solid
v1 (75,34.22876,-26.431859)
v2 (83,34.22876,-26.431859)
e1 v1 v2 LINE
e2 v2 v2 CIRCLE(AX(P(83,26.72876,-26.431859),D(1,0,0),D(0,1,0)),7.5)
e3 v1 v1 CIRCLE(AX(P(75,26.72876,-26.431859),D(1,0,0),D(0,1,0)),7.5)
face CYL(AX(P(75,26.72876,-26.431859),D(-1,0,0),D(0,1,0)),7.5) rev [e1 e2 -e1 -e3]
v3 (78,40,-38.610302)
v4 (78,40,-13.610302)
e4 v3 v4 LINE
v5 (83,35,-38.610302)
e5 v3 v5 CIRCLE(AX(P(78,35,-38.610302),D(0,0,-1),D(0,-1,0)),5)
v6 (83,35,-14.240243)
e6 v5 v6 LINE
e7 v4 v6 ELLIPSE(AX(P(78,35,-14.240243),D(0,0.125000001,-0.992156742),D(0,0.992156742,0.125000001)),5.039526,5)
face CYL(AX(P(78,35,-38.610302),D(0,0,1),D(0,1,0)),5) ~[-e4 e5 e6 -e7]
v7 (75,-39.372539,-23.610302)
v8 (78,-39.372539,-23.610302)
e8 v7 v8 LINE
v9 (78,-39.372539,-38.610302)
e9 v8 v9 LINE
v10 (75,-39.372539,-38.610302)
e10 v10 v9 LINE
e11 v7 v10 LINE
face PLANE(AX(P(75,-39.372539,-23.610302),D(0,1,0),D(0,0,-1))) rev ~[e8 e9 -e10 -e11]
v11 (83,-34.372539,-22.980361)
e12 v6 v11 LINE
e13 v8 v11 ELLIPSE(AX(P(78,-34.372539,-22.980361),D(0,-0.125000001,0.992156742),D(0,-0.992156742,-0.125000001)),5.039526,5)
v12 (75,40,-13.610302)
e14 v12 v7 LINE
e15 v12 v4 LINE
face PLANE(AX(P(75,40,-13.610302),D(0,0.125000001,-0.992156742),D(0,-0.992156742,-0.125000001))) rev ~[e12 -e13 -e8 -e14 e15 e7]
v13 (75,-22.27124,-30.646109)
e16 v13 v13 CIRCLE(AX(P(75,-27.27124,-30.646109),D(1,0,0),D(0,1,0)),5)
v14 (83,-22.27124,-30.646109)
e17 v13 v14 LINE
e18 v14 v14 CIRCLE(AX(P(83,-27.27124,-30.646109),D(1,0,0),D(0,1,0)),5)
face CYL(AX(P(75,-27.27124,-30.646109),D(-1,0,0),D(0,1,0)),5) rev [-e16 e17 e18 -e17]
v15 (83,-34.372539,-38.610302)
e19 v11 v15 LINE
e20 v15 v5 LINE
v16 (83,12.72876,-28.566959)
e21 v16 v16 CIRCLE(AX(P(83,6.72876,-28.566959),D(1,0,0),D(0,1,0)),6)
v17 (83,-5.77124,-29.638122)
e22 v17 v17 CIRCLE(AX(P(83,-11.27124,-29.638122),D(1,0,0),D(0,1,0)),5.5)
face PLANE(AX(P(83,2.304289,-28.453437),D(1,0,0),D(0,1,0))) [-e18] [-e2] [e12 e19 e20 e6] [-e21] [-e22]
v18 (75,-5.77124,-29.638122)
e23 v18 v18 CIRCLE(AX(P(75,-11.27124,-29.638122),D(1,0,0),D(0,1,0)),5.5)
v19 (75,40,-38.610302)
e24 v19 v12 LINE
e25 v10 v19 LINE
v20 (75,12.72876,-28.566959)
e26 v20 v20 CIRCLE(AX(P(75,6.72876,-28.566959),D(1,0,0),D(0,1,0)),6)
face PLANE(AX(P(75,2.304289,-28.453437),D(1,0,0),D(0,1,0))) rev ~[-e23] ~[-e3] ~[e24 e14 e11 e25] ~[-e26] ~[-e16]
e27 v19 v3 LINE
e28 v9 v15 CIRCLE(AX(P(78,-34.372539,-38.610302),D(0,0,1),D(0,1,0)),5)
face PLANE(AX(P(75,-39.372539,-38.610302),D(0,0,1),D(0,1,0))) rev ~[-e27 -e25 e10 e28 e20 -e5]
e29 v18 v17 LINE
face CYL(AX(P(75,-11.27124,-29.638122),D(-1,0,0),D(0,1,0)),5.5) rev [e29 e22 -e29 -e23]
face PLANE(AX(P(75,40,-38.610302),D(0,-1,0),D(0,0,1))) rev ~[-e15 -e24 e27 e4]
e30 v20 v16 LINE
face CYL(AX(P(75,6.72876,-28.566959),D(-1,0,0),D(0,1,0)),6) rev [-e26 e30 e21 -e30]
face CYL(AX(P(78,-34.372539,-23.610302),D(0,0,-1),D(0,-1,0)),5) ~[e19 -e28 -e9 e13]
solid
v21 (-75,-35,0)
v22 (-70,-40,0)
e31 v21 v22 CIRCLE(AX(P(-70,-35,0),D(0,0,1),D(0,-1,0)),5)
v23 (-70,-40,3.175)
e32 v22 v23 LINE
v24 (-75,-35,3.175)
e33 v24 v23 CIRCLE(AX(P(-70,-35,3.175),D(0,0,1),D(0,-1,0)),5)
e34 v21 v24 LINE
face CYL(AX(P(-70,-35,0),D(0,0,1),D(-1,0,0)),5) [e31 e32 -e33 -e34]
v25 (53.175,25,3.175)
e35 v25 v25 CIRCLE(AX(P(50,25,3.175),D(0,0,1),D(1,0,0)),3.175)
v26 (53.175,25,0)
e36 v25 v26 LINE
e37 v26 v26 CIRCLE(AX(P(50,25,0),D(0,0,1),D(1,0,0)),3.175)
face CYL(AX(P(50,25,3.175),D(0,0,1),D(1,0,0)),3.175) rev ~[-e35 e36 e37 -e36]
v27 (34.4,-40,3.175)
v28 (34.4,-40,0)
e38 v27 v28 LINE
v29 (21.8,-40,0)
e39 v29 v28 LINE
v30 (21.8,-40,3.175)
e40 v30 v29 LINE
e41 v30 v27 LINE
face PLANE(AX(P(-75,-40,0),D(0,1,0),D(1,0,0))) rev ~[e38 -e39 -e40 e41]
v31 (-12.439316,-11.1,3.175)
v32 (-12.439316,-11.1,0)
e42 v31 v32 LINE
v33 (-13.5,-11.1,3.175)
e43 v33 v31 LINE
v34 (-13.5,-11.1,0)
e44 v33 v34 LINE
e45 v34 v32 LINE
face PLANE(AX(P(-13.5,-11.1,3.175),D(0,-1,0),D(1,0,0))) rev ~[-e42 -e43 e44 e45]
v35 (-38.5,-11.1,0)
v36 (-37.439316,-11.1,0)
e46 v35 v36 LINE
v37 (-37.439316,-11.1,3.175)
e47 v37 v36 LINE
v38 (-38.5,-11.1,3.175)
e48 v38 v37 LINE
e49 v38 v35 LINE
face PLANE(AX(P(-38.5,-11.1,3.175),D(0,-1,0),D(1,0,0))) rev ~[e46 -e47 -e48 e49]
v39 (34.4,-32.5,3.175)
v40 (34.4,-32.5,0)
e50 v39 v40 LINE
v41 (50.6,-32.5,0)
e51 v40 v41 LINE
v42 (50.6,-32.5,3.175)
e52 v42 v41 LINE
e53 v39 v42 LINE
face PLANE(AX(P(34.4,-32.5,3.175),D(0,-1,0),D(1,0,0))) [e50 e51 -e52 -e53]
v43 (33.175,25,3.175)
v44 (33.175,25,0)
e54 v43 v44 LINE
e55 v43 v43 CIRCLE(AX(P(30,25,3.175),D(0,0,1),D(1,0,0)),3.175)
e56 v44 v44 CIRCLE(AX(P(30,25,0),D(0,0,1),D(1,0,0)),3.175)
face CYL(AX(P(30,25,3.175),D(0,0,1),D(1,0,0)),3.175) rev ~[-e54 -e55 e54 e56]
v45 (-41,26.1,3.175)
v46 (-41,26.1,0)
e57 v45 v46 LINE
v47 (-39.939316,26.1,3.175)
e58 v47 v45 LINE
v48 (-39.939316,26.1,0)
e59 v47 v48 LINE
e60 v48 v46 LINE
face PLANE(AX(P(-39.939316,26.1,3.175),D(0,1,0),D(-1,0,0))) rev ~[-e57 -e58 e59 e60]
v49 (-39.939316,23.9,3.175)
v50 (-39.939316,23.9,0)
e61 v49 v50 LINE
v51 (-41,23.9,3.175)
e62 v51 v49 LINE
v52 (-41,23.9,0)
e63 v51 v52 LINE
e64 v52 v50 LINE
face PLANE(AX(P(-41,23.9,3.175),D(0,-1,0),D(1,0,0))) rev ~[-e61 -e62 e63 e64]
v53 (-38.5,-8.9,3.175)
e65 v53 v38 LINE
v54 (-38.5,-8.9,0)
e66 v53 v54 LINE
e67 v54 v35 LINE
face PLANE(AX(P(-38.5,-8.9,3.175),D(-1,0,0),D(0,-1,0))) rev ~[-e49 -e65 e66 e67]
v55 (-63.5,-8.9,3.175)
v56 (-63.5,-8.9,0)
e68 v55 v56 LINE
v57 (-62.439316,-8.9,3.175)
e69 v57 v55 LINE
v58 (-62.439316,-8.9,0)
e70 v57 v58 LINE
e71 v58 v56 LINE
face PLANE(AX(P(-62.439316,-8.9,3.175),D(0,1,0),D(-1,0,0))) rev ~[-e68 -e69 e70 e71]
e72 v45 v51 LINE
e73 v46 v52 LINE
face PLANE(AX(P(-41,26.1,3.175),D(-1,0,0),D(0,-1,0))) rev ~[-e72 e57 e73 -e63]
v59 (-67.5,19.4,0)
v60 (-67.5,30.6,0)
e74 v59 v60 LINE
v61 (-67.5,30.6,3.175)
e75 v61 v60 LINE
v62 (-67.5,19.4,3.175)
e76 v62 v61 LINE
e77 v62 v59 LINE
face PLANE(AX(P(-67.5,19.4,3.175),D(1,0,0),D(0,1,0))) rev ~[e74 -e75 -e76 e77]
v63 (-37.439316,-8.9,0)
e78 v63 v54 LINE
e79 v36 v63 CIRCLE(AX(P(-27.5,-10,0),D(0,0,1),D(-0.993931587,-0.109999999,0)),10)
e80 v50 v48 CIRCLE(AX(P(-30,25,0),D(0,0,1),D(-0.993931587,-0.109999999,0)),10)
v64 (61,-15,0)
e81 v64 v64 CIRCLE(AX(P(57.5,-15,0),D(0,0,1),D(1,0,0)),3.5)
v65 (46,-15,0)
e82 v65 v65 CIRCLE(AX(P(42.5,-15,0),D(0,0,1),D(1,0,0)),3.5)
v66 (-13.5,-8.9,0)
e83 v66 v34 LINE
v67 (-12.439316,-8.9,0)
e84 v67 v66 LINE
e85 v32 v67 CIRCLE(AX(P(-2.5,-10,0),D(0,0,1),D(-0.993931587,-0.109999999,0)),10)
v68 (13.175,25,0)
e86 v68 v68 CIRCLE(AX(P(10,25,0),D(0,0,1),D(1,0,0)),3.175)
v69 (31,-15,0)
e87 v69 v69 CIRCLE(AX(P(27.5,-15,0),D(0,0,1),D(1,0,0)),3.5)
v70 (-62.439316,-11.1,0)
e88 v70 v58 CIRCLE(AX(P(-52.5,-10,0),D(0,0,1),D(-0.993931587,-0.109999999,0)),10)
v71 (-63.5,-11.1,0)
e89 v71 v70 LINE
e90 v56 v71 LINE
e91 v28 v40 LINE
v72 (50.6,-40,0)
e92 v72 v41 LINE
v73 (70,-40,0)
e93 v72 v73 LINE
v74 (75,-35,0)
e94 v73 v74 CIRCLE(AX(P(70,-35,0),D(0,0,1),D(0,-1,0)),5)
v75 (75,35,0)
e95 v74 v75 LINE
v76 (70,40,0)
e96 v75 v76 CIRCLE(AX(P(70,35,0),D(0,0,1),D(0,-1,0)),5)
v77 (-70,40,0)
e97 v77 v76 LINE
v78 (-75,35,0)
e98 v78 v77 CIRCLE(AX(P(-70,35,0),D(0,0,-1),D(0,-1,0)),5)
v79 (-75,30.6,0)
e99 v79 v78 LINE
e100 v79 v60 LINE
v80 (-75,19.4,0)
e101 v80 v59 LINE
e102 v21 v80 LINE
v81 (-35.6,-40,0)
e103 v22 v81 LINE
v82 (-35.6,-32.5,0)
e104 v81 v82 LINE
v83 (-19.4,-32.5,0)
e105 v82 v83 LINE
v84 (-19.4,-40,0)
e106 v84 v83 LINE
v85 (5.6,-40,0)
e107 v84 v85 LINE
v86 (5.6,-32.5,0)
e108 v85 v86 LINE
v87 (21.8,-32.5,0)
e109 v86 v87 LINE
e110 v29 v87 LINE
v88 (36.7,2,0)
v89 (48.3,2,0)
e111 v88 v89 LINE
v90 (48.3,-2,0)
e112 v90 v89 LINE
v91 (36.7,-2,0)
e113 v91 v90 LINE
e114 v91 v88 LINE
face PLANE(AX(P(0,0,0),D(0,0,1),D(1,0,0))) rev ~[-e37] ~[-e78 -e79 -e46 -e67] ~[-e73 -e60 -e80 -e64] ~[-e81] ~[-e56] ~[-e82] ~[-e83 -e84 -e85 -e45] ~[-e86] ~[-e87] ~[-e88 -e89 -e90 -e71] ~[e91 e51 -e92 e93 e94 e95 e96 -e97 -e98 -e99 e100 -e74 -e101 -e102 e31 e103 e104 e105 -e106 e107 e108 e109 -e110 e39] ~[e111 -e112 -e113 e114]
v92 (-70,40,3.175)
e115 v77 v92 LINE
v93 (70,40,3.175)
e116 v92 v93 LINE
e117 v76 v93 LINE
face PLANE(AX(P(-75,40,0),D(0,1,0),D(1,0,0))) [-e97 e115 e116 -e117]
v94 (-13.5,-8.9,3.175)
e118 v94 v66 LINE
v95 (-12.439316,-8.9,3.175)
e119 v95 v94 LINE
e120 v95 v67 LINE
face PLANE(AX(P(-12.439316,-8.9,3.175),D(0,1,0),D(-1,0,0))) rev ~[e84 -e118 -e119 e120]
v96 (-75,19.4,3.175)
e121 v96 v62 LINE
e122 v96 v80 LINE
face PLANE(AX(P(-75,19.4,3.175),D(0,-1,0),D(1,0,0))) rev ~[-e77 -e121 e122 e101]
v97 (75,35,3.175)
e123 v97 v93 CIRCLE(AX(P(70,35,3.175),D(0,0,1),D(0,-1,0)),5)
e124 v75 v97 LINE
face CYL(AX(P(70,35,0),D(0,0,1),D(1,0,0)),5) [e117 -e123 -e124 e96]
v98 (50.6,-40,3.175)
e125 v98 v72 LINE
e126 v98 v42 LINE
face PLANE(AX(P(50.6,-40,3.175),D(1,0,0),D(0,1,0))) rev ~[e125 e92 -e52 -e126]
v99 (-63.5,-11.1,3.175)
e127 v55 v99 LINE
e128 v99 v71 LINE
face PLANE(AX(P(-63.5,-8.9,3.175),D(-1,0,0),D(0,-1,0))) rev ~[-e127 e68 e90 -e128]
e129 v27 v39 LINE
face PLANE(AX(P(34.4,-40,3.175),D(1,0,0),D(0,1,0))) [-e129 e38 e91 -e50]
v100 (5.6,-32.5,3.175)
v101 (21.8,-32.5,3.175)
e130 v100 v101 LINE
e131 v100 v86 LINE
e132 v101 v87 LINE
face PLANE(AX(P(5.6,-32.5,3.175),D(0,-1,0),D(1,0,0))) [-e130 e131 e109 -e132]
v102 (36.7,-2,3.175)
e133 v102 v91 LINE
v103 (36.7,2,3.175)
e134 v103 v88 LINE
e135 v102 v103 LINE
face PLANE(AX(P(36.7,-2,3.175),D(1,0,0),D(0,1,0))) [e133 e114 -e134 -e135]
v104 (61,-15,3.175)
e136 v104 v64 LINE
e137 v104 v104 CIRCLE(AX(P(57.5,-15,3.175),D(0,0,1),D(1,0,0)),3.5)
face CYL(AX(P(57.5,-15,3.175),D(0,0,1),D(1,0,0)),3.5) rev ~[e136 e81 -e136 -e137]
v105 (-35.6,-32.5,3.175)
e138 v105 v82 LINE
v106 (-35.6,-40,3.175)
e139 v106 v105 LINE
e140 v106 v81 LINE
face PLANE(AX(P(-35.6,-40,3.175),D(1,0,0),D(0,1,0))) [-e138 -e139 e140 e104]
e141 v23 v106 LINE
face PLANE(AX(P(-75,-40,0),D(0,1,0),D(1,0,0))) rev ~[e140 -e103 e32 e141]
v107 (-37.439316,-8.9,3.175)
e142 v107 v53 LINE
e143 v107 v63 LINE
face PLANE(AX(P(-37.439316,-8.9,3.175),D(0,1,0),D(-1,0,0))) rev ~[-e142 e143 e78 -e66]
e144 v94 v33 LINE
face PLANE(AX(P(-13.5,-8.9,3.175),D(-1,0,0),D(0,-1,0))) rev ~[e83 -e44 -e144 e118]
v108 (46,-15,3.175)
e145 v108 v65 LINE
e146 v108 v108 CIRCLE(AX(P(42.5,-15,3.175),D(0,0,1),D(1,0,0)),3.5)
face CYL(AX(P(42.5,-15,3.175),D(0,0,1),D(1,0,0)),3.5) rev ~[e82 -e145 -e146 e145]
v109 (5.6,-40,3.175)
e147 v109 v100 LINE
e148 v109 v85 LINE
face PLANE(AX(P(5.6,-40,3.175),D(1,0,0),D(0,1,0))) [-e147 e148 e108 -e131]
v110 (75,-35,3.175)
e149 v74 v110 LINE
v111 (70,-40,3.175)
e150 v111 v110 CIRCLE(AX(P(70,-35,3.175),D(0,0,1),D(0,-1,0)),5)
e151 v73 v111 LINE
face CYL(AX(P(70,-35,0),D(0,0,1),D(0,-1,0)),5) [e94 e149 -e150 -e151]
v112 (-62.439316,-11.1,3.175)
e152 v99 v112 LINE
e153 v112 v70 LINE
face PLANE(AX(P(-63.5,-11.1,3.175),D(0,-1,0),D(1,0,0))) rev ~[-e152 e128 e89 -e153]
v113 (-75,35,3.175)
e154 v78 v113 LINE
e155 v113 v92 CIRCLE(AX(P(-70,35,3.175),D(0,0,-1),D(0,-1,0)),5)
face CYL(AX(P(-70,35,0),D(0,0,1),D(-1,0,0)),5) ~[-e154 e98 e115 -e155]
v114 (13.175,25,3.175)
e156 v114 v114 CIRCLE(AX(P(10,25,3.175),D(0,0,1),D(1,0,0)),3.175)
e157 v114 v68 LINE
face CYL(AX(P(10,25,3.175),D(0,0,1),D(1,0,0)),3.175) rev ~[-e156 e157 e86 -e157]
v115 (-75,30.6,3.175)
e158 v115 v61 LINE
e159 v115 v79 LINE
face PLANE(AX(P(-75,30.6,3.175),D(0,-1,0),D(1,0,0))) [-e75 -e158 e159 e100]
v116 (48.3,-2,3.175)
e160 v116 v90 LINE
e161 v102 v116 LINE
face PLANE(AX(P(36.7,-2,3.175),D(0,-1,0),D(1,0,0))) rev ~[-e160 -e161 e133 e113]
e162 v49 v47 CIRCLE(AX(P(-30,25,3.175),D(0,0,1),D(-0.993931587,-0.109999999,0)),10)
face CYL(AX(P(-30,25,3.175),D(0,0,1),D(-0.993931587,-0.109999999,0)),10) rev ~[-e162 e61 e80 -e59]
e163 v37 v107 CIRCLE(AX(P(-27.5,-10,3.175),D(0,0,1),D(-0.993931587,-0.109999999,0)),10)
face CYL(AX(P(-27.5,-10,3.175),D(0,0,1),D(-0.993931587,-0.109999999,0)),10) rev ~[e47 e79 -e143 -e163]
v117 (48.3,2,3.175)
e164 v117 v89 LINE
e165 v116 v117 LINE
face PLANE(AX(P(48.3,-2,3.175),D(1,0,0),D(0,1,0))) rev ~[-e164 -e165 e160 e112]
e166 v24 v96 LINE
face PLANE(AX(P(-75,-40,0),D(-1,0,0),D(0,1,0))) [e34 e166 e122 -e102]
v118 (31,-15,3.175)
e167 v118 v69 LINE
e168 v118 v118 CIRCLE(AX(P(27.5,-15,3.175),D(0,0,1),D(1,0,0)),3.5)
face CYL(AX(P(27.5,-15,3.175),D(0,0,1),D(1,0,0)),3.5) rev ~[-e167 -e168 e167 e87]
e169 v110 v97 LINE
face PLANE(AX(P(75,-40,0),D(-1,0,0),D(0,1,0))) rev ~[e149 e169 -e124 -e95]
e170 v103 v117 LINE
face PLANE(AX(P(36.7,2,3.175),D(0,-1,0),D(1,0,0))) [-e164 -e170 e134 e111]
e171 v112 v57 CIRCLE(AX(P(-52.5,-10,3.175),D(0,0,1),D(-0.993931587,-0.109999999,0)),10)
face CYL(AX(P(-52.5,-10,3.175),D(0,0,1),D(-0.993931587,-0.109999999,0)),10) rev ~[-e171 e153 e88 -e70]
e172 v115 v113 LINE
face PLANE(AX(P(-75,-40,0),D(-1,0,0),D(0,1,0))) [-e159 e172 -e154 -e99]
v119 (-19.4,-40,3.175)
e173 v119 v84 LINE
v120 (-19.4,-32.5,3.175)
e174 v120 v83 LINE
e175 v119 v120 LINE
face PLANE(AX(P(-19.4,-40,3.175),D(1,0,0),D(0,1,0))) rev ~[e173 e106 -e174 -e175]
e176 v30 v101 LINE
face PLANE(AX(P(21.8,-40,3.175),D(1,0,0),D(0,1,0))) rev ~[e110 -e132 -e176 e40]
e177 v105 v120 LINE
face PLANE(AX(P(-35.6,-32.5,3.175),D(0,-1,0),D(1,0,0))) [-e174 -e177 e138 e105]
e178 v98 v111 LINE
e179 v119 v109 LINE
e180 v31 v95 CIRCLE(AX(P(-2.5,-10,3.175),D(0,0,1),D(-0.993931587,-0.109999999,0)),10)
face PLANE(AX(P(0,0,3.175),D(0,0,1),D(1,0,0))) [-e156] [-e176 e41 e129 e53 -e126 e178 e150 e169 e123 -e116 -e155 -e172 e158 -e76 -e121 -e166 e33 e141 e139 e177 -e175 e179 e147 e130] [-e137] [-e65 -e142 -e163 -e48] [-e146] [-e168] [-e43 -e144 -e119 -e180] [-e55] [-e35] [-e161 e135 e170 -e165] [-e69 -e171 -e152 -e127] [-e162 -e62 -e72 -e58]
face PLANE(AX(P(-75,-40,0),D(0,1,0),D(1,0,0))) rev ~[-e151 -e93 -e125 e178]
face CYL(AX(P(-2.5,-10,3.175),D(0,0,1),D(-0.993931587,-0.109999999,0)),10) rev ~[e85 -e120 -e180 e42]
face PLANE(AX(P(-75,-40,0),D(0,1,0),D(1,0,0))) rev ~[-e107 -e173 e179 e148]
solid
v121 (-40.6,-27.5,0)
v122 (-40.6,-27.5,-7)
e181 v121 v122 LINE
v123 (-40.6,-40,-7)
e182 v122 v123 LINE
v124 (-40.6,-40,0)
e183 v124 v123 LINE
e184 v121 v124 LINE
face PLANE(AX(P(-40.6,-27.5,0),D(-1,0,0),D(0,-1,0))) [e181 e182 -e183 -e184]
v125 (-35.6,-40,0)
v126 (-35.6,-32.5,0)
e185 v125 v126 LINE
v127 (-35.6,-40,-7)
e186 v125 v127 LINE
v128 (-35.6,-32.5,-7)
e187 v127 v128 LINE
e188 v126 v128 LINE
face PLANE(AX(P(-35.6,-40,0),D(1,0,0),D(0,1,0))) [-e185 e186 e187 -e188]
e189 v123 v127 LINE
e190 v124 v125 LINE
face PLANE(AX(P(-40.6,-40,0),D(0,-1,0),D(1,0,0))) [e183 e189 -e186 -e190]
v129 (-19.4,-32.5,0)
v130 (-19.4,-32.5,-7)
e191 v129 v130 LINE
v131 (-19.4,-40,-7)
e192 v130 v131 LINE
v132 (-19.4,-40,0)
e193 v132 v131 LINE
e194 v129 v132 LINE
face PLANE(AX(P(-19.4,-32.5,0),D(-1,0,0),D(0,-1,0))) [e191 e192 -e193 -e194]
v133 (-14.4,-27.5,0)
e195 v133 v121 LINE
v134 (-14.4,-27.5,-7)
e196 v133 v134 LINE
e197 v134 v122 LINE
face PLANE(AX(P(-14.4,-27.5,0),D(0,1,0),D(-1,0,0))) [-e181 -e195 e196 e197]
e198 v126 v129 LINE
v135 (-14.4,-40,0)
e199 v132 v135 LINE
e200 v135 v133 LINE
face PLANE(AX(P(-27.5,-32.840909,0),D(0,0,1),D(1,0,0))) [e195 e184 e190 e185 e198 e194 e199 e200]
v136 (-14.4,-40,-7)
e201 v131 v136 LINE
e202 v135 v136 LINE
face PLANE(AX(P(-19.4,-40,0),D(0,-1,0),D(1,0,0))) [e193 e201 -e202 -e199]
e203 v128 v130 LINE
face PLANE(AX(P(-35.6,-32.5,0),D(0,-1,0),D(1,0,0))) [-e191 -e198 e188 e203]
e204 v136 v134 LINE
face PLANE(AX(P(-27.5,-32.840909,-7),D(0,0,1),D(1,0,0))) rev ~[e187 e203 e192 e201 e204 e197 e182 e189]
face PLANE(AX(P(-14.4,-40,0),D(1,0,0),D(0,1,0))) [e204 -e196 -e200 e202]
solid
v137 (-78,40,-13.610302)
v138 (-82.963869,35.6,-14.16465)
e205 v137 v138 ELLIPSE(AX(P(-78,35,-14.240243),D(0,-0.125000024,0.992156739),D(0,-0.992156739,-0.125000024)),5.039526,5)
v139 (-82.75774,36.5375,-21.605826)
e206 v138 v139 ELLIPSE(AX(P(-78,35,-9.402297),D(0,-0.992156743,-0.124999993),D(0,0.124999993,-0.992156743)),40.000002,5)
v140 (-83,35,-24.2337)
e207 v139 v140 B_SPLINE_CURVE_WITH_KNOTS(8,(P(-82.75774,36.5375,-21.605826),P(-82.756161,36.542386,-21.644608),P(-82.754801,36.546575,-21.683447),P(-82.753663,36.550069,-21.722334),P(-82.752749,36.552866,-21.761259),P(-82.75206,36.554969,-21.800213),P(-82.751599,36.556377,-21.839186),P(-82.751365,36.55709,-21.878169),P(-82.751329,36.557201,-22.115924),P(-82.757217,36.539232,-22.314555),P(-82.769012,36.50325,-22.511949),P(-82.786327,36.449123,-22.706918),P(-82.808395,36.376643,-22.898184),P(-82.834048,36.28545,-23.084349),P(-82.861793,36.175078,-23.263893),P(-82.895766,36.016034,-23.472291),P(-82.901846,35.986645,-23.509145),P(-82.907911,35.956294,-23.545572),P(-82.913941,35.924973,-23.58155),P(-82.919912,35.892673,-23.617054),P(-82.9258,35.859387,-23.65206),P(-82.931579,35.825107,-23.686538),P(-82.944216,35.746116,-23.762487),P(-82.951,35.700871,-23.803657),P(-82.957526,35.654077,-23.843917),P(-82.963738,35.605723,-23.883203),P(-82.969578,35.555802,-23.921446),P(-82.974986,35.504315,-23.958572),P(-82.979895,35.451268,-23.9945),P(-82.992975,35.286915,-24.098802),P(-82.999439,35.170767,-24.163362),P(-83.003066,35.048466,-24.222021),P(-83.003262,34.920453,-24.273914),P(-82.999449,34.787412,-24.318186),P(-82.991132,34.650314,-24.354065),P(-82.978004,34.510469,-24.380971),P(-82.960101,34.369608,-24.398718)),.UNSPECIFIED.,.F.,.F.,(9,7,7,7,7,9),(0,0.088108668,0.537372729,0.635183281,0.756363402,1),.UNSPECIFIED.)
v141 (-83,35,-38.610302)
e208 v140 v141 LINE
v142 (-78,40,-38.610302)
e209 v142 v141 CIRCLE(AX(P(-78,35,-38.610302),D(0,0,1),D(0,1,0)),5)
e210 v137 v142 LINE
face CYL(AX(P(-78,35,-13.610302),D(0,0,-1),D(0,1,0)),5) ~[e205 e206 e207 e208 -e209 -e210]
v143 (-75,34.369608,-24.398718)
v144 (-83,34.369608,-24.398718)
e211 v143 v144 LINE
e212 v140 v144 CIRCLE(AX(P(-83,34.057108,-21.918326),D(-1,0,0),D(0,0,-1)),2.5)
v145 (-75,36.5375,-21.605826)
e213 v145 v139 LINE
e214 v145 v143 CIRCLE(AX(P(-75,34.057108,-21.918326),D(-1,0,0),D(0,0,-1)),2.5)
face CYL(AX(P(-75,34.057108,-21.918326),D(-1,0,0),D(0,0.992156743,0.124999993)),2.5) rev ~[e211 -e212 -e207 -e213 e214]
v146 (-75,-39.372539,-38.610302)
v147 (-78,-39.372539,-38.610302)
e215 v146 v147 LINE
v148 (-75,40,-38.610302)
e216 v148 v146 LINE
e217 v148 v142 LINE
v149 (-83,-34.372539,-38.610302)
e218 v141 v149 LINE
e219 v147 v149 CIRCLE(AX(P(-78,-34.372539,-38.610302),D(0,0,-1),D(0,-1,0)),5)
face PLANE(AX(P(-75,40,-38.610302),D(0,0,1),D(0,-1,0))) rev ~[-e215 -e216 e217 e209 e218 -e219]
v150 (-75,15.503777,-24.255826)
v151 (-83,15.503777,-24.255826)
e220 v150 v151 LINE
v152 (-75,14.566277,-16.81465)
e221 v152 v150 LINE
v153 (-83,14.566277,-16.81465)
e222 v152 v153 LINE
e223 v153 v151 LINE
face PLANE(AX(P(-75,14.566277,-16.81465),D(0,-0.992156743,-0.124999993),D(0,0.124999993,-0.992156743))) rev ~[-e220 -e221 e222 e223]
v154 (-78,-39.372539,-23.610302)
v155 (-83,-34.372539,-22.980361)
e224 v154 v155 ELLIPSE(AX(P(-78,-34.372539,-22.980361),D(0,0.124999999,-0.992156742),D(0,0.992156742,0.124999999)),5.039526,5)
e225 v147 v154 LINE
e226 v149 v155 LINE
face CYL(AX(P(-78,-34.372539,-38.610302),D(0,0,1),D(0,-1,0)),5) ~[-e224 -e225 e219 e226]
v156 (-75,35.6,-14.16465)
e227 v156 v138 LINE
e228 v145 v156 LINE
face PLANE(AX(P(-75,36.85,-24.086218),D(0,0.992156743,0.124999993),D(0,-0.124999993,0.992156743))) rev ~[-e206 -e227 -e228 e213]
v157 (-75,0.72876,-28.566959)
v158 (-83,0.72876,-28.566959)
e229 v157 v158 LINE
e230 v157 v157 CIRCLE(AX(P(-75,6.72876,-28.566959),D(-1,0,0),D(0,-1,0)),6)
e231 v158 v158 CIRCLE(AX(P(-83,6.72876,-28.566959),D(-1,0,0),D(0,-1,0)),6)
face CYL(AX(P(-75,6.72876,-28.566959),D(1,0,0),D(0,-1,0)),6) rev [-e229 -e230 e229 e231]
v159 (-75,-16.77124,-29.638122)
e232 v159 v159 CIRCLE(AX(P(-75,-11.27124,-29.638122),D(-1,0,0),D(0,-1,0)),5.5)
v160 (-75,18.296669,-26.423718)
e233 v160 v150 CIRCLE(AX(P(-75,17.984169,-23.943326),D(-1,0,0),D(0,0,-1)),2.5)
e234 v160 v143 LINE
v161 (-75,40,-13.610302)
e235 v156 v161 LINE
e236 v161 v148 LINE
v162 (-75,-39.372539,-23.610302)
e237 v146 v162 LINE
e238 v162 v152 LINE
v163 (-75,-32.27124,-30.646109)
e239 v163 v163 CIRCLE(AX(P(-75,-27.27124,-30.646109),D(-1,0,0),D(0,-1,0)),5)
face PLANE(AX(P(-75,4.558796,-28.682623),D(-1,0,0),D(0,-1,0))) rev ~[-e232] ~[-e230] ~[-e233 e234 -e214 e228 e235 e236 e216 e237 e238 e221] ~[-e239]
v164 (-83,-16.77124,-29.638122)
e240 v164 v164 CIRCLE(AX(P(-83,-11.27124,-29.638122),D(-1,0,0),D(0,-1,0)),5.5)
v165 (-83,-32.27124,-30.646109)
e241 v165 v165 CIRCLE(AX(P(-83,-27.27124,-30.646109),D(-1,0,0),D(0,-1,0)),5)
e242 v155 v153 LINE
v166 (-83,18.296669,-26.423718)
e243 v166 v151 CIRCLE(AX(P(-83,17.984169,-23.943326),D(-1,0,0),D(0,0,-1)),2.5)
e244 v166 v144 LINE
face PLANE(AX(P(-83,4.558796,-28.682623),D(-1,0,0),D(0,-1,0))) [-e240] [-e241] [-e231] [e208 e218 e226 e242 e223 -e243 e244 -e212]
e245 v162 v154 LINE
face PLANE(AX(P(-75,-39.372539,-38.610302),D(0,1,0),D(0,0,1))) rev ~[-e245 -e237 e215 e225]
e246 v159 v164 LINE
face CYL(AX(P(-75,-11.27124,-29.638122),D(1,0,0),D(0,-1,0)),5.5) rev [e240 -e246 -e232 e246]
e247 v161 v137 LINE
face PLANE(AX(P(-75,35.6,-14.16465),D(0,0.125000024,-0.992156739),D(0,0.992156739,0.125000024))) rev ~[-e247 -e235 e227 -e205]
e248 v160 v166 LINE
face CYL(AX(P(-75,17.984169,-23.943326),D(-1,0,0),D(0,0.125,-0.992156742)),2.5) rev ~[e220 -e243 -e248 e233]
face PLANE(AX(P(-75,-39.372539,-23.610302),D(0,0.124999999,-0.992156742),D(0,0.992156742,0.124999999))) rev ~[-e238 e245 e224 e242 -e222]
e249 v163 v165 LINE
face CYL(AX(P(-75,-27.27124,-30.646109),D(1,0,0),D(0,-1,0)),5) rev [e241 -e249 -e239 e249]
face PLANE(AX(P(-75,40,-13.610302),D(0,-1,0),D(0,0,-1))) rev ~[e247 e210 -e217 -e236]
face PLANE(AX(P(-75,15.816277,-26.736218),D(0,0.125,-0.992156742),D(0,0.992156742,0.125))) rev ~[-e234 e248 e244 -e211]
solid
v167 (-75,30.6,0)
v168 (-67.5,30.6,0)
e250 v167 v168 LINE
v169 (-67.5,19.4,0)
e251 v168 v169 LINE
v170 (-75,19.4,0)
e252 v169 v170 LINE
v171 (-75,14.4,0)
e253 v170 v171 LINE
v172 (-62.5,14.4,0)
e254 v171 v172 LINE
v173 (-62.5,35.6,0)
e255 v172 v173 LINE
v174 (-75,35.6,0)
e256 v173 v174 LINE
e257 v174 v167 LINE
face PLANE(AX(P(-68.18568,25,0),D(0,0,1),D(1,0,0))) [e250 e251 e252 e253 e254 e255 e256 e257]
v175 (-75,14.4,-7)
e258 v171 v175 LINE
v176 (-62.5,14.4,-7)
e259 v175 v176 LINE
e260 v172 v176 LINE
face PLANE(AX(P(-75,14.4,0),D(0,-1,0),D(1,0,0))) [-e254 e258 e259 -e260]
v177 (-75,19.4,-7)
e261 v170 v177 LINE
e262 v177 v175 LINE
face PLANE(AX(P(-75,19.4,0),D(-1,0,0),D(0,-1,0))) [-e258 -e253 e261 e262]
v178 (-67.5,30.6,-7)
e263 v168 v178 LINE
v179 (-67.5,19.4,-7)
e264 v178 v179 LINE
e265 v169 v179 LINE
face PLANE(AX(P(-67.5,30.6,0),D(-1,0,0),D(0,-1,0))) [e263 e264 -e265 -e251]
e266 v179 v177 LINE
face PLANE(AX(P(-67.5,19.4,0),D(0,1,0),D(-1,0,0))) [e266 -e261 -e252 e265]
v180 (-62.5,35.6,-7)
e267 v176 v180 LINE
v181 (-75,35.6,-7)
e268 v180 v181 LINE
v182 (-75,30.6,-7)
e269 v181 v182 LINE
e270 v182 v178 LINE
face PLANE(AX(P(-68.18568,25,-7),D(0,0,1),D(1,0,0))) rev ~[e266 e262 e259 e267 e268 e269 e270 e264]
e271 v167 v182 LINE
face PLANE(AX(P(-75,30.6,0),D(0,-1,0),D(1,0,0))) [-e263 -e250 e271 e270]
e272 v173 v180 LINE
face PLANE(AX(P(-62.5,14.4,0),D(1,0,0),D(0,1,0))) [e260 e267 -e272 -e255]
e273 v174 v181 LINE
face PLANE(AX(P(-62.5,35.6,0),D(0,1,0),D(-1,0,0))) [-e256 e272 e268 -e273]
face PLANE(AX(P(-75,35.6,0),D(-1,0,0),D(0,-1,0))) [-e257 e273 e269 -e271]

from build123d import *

# Parameters (mm, degrees)
F0_W      = 150
F0_H      = 80
F1_DEPTH  = 3.175
F2_R      = 5
F3_R      = 3.5
F3_R_2    = 3.175
F3_W      = 11.6
F3_H      = 4
F4_DEPTH  = 3.176
F5_W      = 7.5
F5_H      = 11.2
F5_W_2    = 16.2
F5_H_2    = 7.5
F6_DEPTH  = 3.176
F8_DEPTH  = 7
F10_DEPTH = 7
F11_R     = 5
F11_R_2   = 5.5
F11_R_3   = 6
F11_R_4   = 7.5
F12_DEPTH = 8
F13_R     = 6
F13_R_2   = 5.5
F13_R_3   = 5
F14_DEPTH = 8
F15_R     = 5
F15_2_R   = 5
F16_R     = 2.5


with BuildPart() as f1:
    # F0 (on Top) → F1 (new body)
    with BuildSketch(Plane.XY):
        Rectangle(F0_W, F0_H)
    extrude(amount=F1_DEPTH)

    # F2
    f2_edges = [f1.edges().sort_by_distance(p)[0] for p in [
        (-75, 40, 1.5875),
        (-75, -40, 1.5875),
        (75, -40, 1.5875),
        (75, 40, 1.5875),
    ]]
    fillet(f2_edges, radius=F2_R)

    # F3 (on face) → F4 (cut, through all)
    with BuildSketch(Plane.XY.offset(3.175)):
        with BuildLine():
            Line((-41, 23.9), (-39.939316, 23.9))
            ThreePointArc((-39.939316, 23.9), (-20, 25), (-39.939316, 26.1))
            Line((-39.939316, 26.1), (-41, 26.1))
            Line((-41, 26.1), (-41, 23.9))
        make_face()
        with BuildLine():
            Line((-63.5, -11.1), (-62.439316, -11.1))
            ThreePointArc((-62.439316, -11.1), (-42.5, -10), (-62.439316, -8.9))
            Line((-62.439316, -8.9), (-63.5, -8.9))
            Line((-63.5, -8.9), (-63.5, -11.1))
        make_face()
        with BuildLine():
            Line((-38.5, -11.1), (-37.439316, -11.1))
            ThreePointArc((-37.439316, -11.1), (-17.5, -10), (-37.439316, -8.9))
            Line((-37.439316, -8.9), (-38.5, -8.9))
            Line((-38.5, -8.9), (-38.5, -11.1))
        make_face()
        with BuildLine():
            Line((-13.5, -11.1), (-12.439316, -11.1))
            ThreePointArc((-12.439316, -11.1), (7.5, -10), (-12.439316, -8.9))
            Line((-12.439316, -8.9), (-13.5, -8.9))
            Line((-13.5, -8.9), (-13.5, -11.1))
        make_face()
        with Locations((27.5, -15)):
            Circle(F3_R)
        with Locations((42.5, -15)):
            Circle(F3_R)
        with Locations((57.5, -15)):
            Circle(F3_R)
        with Locations((10, 25)):
            Circle(F3_R_2)
        with Locations((30, 25)):
            Circle(F3_R_2)
        with Locations((50, 25)):
            Circle(F3_R_2)
        with Locations((42.5, 0)):
            Rectangle(F3_W, F3_H)
    extrude(amount=-F4_DEPTH, mode=Mode.SUBTRACT)

    # F5 (on face) → F6 (cut, through all)
    with BuildSketch(Plane.XY.offset(3.175)):
        with Locations((-71.25, 25)):
            Rectangle(F5_W, F5_H)
        with Locations((-27.5, -36.25)):
            Rectangle(F5_W_2, F5_H_2)
        with Locations((42.5, -36.25)):
            Rectangle(F5_W_2, F5_H_2)
        with Locations((13.7, -36.25)):
            Rectangle(F5_W_2, F5_H_2)
    extrude(amount=-F6_DEPTH, mode=Mode.SUBTRACT)


with BuildPart() as f8:
    # F7 (on Top) → F8 (new body)
    with BuildSketch(Plane.XY):
        Polygon((-75, 14.4), (-62.5, 14.4), (-62.5, 35.6), (-75, 35.6), (-75, 30.6), (-67.5, 30.6), (-67.5, 19.4), (-75, 19.4), align=None)
    extrude(amount=-F8_DEPTH)


with BuildPart() as f10:
    # F9 (on Top) → F10 (new body)
    with BuildSketch(Plane.XY):
        Polygon((-35.6, -40), (-35.6, -32.5), (-19.4, -32.5), (-19.4, -40), (-14.4, -40), (-14.4, -27.5), (-40.6, -27.5), (-40.6, -40), align=None)
    extrude(amount=-F10_DEPTH)


with BuildPart() as f12:
    # F11 (on face) → F12 (new body)
    with BuildSketch(Plane.YZ.offset(75)):
        Polygon((40, -38.610302), (40, -13.610302), (-39.372539, -23.610302), (-39.372539, -38.610302), align=None)
        with Locations((-27.27124, -30.646109)):
            Circle(F11_R, mode=Mode.SUBTRACT)
        with Locations((-11.27124, -29.638122)):
            Circle(F11_R_2, mode=Mode.SUBTRACT)
        with Locations((6.72876, -28.566959)):
            Circle(F11_R_3, mode=Mode.SUBTRACT)
        with Locations((26.72876, -26.431859)):
            Circle(F11_R_4, mode=Mode.SUBTRACT)
    extrude(amount=F12_DEPTH)

    # F15
    f15_edges = [f12.edges().sort_by_distance(p)[0] for p in [
        (83, -39.372539, -31.110302),
        (83, 40, -26.110302),
    ]]
    fillet(f15_edges, radius=F15_R)


with BuildPart() as f14:
    # F13 (on face) → F14 (new body)
    with BuildSketch(Plane(origin=(-75, 0, 0), x_dir=(0, -1, 0), z_dir=(-1, 0, 0))):
        Polygon((-35.6, -14.16465), (-40, -13.610302), (-40, -38.610302), (39.372539, -38.610302), (39.372539, -23.610302), (-14.566277, -16.81465), (-15.816277, -26.736218), (-36.85, -24.086218), align=None)
        with Locations((-6.72876, -28.566959)):
            Circle(F13_R, mode=Mode.SUBTRACT)
        with Locations((11.27124, -29.638122)):
            Circle(F13_R_2, mode=Mode.SUBTRACT)
        with Locations((27.27124, -30.646109)):
            Circle(F13_R_3, mode=Mode.SUBTRACT)
    extrude(amount=F14_DEPTH)

    # F15#2
    f15_2_edges = [f14.edges().sort_by_distance(p)[0] for p in [
        (-83, 40, -26.110302),
        (-83, -39.372539, -31.110302),
    ]]
    fillet(f15_2_edges, radius=F15_2_R)

    # F16
    f16_edges = [f14.edges().sort_by_distance(p)[0] for p in [
        (-79, 15.816277, -26.736218),
        (-78.822579, 36.85, -24.086218),
    ]]
    fillet(f16_edges, radius=F16_R)


solid = Compound([f1.part, f8.part, f10.part, f12.part, f14.part])
